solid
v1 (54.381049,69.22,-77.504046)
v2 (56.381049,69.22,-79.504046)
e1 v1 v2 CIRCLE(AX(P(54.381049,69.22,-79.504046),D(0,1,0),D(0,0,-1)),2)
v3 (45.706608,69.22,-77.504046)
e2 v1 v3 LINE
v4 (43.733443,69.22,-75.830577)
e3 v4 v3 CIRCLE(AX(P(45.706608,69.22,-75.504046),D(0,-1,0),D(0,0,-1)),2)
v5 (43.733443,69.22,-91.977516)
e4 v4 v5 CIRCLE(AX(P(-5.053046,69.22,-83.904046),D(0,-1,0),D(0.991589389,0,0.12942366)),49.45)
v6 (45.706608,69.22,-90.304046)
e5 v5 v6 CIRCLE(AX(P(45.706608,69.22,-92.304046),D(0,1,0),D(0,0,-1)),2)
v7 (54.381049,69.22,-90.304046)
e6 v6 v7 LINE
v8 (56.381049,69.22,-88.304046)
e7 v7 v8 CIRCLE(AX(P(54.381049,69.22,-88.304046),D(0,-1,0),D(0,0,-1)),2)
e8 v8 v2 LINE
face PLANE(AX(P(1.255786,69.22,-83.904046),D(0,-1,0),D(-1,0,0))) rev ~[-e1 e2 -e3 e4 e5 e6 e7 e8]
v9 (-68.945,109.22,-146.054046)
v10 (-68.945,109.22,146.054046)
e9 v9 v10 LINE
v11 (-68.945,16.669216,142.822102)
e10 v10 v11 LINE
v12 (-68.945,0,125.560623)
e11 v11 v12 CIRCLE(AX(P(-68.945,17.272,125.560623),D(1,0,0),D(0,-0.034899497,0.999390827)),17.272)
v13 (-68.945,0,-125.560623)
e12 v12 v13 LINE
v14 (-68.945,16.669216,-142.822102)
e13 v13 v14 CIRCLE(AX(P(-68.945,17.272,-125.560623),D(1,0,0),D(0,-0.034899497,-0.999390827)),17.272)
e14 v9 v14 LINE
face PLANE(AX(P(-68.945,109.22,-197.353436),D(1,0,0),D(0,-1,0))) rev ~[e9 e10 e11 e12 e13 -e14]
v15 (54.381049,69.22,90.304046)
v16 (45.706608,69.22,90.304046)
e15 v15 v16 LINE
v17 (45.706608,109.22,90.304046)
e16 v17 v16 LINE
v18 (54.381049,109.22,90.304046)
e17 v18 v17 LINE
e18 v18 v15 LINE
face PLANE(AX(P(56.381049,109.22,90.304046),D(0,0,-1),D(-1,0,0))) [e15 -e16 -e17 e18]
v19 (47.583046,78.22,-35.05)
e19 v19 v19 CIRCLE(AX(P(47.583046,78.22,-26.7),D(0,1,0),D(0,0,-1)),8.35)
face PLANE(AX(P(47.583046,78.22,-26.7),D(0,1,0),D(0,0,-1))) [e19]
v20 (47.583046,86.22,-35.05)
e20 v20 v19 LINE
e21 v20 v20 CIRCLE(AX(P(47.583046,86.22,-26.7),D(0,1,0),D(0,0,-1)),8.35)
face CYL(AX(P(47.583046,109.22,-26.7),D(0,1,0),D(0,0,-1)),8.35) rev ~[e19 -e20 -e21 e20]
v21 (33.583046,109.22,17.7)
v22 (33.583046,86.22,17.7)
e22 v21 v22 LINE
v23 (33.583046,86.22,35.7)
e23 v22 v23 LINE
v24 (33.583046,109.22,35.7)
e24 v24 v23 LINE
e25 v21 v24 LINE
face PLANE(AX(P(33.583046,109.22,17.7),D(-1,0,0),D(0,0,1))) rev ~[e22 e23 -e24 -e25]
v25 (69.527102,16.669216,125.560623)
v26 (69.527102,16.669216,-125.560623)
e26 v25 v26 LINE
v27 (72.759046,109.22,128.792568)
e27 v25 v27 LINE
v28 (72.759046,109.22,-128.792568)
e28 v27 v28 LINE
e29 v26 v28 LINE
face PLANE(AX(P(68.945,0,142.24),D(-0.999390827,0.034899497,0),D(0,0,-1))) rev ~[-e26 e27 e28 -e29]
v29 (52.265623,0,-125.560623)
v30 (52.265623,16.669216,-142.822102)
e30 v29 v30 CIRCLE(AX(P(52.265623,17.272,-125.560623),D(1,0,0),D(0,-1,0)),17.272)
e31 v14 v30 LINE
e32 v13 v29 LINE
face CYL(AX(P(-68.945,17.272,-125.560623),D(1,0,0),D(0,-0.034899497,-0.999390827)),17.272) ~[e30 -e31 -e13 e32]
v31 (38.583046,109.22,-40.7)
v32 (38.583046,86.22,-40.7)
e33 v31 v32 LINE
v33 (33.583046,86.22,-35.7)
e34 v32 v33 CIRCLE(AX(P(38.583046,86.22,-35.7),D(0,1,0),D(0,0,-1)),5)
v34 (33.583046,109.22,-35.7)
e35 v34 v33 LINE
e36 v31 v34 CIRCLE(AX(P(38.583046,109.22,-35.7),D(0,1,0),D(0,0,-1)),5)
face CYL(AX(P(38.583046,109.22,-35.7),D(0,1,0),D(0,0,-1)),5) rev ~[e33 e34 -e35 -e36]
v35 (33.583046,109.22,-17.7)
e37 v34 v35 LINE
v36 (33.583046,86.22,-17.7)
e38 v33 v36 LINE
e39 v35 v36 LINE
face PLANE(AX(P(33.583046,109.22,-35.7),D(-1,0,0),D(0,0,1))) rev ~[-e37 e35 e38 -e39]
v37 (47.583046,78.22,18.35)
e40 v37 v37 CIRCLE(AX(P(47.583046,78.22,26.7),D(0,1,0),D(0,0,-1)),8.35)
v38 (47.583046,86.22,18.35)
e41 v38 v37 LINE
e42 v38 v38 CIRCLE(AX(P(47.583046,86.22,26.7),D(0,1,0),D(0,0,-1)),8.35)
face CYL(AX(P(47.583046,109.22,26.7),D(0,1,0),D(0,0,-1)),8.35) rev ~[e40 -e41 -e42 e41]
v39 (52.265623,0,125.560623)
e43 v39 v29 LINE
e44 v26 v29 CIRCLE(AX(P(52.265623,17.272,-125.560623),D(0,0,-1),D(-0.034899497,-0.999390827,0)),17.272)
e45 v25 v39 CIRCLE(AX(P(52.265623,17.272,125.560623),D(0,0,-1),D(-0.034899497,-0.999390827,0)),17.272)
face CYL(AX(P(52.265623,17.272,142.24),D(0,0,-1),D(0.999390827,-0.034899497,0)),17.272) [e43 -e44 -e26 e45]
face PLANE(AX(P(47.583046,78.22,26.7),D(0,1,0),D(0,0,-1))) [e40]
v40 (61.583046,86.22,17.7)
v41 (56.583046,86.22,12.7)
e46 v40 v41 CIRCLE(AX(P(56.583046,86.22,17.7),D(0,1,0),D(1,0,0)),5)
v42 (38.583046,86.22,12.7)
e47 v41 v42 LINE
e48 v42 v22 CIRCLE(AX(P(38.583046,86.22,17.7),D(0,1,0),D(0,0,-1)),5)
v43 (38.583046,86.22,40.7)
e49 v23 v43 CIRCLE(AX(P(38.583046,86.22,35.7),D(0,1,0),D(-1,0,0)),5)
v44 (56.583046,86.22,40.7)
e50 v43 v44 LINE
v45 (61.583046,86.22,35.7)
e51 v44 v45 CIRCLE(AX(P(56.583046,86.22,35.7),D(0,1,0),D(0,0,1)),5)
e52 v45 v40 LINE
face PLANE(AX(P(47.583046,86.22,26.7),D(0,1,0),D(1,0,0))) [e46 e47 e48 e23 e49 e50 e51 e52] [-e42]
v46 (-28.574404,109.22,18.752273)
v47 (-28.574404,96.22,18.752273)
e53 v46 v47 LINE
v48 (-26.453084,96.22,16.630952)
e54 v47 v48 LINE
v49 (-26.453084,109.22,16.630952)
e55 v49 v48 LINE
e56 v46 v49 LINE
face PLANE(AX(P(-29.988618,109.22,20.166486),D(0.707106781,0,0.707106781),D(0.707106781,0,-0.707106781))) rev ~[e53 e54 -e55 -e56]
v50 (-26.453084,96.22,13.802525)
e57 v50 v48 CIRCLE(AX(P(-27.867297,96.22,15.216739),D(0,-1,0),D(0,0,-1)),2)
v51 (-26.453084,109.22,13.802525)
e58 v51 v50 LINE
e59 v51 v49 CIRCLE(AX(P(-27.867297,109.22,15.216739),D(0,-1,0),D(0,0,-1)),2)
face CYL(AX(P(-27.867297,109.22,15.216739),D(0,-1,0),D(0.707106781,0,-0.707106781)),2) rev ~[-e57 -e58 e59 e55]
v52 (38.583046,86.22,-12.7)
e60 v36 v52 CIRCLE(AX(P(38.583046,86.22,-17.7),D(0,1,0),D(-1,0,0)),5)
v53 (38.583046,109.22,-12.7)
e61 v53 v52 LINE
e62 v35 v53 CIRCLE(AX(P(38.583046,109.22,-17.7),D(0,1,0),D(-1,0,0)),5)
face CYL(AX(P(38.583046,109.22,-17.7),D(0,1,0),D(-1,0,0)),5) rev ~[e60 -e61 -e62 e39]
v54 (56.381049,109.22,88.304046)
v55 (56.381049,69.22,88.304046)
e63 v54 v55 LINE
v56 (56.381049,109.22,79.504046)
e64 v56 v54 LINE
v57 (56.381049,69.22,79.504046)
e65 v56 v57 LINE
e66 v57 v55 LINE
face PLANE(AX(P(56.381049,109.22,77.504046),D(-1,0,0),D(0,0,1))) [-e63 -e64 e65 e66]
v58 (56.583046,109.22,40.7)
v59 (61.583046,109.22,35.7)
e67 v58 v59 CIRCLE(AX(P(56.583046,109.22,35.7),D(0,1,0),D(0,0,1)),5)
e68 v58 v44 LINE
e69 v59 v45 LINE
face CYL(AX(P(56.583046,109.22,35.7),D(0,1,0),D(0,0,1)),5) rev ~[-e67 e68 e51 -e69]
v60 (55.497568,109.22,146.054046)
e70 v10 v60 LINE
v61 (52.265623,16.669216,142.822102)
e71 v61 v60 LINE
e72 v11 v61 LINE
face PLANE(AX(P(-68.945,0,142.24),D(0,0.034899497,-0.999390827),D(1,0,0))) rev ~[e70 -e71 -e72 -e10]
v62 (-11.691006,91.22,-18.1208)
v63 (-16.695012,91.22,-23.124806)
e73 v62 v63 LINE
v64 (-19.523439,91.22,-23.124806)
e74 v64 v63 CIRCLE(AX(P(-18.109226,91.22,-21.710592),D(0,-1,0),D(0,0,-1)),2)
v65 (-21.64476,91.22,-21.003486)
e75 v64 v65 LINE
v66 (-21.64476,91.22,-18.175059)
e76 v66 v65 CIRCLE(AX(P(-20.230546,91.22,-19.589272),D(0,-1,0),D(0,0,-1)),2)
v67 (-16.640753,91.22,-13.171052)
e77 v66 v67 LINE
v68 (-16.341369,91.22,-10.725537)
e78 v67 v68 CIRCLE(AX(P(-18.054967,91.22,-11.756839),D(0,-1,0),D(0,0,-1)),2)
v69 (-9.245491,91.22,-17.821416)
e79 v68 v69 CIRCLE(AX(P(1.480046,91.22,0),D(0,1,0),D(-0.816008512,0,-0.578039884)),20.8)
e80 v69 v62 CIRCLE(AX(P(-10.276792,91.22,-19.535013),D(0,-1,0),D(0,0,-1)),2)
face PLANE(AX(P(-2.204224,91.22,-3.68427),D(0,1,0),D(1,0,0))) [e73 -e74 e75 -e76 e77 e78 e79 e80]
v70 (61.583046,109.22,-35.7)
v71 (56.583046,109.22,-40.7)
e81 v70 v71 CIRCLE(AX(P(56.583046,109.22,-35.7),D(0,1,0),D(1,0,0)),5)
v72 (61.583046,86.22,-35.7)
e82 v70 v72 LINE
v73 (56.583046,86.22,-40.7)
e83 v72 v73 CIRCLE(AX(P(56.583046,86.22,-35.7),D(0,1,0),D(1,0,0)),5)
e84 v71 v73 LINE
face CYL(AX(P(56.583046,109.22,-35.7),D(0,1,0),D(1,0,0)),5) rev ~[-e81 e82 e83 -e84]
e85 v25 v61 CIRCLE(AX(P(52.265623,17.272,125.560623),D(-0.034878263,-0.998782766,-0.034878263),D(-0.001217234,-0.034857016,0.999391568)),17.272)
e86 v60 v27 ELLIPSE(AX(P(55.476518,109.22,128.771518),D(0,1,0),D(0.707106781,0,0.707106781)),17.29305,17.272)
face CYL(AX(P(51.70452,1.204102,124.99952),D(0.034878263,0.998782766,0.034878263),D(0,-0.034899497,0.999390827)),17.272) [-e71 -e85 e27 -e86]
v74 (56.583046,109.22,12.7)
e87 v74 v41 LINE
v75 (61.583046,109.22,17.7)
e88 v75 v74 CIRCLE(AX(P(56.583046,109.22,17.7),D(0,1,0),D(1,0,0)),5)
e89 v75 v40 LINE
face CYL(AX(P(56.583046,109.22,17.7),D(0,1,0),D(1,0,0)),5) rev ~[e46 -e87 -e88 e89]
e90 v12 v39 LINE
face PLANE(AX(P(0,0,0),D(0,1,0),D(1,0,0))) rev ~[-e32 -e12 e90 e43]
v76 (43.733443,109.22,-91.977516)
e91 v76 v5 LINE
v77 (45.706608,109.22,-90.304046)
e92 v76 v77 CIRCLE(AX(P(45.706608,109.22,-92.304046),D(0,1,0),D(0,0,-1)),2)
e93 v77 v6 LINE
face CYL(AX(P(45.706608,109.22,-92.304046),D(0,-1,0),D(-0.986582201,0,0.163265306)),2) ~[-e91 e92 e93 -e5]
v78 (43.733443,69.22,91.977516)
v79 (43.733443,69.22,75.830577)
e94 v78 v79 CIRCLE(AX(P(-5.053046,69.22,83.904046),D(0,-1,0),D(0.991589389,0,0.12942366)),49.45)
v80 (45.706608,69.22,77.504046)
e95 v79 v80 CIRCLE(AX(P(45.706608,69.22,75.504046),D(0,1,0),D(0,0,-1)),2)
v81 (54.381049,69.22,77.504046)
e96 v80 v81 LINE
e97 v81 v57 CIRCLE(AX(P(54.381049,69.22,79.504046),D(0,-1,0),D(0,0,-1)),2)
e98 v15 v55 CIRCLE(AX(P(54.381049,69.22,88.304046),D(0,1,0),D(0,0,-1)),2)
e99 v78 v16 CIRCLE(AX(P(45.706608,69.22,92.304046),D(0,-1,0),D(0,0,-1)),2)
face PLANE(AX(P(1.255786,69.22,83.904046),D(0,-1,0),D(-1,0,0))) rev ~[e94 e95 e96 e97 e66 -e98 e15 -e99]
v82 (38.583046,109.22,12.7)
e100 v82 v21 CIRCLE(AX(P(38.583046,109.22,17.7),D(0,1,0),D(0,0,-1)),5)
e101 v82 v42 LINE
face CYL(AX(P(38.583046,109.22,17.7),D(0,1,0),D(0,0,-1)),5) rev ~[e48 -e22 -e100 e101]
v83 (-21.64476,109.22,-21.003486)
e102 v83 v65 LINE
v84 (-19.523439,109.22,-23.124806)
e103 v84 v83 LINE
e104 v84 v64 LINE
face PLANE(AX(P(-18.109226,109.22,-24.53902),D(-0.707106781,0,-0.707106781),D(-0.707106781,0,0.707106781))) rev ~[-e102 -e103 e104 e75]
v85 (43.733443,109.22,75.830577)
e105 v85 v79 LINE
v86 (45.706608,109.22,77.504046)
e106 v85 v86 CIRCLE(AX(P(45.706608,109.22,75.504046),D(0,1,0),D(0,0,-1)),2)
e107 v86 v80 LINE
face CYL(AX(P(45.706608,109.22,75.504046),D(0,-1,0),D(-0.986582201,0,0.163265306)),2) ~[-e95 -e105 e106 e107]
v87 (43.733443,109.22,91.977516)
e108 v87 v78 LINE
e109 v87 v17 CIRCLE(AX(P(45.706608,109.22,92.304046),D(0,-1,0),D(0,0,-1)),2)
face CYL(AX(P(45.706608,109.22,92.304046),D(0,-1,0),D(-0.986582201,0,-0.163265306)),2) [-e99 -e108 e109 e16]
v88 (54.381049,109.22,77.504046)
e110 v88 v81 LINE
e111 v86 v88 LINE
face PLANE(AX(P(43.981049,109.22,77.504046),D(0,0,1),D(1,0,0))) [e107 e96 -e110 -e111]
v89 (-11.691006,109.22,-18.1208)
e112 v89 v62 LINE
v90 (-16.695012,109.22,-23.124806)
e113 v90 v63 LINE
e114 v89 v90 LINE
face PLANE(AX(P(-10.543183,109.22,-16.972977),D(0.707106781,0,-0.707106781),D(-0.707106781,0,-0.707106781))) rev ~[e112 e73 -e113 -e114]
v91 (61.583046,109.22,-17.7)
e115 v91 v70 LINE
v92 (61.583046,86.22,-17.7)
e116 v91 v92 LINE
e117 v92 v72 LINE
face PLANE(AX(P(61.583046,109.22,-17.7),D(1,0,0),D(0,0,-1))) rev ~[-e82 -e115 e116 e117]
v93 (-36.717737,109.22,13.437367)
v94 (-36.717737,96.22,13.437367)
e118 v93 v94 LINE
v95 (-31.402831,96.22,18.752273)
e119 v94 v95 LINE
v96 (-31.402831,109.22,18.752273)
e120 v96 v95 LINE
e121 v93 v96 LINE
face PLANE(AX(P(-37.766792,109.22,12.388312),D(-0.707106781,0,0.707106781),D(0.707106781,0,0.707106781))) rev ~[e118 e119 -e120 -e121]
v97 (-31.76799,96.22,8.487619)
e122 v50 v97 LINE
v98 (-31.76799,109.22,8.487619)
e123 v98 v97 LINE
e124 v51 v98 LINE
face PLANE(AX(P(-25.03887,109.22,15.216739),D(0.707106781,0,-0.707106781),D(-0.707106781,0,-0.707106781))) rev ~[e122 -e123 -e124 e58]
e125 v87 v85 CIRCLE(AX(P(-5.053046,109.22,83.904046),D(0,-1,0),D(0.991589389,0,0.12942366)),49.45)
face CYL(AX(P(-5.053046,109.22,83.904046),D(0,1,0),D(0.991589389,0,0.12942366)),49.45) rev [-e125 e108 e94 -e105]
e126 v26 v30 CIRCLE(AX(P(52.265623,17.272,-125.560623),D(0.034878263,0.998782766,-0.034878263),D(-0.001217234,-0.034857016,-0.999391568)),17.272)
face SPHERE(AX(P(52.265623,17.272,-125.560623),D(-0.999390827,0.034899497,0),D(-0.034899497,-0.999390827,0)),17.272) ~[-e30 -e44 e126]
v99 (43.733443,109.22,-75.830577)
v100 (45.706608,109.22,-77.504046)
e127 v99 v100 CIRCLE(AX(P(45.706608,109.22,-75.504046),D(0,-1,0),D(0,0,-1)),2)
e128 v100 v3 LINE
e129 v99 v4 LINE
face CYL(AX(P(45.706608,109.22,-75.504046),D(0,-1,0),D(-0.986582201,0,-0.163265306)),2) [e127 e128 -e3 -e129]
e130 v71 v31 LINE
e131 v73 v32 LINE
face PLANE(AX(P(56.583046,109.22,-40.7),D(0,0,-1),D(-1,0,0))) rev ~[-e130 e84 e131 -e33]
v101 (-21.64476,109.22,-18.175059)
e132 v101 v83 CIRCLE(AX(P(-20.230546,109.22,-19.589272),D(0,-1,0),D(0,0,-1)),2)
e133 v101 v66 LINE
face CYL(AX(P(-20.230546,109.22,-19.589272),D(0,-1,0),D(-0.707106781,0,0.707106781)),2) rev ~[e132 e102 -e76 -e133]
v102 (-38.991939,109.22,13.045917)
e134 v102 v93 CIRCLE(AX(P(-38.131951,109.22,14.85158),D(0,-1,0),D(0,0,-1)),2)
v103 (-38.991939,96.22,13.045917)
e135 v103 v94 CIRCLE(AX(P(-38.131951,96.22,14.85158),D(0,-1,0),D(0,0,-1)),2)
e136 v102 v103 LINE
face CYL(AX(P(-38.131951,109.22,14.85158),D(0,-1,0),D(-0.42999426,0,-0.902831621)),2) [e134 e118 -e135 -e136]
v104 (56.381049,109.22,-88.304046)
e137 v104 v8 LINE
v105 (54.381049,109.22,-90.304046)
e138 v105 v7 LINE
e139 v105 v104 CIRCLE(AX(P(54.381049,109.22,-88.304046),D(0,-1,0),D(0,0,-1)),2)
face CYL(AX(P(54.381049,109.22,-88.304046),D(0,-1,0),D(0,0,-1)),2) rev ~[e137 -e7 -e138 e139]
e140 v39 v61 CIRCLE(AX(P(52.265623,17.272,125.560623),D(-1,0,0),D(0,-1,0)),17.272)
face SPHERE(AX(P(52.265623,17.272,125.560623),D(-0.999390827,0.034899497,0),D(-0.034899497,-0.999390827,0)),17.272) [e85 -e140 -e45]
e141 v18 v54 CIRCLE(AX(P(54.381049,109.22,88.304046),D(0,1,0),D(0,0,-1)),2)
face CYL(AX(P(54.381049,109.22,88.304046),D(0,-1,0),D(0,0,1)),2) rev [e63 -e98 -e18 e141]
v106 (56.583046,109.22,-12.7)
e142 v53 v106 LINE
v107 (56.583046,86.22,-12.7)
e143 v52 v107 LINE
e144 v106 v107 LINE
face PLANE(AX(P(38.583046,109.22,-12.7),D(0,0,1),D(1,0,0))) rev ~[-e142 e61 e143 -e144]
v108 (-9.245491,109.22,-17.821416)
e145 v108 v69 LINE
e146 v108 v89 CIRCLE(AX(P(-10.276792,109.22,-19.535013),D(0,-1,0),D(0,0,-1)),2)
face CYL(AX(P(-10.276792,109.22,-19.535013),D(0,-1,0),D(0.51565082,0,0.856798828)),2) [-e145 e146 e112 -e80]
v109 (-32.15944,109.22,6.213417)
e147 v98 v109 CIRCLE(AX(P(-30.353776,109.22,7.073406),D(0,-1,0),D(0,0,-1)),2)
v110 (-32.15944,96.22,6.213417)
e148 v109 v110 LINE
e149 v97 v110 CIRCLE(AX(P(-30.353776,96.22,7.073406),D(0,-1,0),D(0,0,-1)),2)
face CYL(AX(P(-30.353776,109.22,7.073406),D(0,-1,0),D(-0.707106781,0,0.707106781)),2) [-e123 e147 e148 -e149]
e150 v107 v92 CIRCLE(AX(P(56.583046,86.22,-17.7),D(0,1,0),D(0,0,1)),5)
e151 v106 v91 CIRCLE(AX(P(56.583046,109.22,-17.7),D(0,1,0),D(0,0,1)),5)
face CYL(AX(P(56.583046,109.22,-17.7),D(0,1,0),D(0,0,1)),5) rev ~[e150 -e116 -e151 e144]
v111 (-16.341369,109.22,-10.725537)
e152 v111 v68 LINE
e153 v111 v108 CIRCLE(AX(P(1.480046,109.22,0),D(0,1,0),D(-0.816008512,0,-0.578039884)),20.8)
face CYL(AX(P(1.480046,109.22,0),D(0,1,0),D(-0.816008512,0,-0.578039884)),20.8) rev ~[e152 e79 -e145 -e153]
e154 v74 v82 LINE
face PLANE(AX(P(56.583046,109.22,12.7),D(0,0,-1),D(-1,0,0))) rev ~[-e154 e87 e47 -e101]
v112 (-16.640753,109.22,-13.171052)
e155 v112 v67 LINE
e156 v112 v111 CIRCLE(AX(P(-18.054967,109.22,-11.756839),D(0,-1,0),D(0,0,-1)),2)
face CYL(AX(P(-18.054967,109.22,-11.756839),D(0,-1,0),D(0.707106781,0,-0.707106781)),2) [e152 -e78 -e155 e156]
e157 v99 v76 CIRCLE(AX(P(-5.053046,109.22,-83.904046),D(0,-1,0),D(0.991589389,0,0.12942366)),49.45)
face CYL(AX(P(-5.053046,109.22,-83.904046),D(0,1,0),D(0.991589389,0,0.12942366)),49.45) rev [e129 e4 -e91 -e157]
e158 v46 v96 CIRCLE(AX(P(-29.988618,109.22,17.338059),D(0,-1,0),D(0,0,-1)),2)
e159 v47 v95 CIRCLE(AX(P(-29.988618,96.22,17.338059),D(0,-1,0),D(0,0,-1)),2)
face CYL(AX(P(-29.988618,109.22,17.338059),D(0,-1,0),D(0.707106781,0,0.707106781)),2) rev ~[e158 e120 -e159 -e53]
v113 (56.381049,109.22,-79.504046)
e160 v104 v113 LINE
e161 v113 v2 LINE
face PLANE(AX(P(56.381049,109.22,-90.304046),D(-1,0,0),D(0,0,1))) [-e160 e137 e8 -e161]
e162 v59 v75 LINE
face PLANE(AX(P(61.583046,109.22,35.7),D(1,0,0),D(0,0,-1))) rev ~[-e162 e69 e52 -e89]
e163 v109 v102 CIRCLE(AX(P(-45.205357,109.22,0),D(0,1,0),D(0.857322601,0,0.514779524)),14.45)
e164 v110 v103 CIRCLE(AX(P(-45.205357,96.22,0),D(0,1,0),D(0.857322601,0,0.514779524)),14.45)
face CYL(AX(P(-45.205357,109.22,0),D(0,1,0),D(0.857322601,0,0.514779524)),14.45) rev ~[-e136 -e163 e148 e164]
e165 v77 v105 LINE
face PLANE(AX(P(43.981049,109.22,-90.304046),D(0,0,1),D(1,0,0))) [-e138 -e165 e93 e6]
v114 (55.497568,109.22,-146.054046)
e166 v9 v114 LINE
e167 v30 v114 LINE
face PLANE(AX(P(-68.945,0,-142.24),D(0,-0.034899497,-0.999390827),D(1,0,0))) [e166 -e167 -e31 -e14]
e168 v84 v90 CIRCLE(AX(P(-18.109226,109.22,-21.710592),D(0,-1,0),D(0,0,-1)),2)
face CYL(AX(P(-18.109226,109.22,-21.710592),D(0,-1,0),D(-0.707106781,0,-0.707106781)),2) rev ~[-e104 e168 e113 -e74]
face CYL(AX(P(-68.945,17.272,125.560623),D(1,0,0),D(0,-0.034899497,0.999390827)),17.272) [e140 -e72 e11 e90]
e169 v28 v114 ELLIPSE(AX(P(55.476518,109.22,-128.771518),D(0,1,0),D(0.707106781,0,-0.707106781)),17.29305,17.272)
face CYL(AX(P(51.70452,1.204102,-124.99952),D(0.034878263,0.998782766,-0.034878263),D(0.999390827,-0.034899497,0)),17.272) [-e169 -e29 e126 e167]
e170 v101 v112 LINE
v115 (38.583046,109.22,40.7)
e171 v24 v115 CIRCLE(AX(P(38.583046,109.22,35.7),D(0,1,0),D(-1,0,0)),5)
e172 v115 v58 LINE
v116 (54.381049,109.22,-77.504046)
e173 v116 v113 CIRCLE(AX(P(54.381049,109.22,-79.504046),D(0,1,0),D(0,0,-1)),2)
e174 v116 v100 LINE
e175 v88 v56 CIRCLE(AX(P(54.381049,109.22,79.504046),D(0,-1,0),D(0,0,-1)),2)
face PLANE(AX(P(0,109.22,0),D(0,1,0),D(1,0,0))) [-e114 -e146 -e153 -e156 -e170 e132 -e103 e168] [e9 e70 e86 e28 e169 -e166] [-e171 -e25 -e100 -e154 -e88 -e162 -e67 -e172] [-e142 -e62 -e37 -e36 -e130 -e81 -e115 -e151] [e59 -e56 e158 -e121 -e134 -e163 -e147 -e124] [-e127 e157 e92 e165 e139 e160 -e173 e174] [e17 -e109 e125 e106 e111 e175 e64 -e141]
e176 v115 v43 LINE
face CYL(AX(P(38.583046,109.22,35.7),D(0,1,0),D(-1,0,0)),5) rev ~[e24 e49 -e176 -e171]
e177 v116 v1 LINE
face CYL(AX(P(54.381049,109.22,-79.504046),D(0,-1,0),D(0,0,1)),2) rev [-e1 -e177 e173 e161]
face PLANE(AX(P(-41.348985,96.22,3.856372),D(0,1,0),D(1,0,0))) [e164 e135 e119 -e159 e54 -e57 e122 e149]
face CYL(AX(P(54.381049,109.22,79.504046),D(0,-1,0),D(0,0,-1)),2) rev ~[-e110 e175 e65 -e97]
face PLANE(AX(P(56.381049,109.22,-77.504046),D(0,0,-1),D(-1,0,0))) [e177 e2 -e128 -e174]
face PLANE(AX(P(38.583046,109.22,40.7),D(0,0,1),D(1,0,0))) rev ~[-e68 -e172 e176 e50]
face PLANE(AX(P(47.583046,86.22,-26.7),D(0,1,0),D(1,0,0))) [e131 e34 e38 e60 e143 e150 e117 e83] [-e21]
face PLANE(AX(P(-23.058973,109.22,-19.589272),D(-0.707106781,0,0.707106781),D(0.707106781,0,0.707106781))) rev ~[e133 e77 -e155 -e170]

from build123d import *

# Parameters (mm, degrees)
SKETCH3_W               = 137.89
SKETCH3_H               = 284.48
BOSS_EXTRUDE1_DEPTH     = 109.22
BOSS_EXTRUDE1_DRAFT     = -2
FILLET1_R               = 17.272
CUT_EXTRUDE1_START      = 109.22
CUT_EXTRUDE1_DEPTH      = 40
CUT_EXTRUDE2_START      = 109.22
CUT_EXTRUDE2_DEPTH      = 13
CUT_EXTRUDE3_START      = 109.22
CUT_EXTRUDE3_DEPTH      = 18
CUT_EXTRUDE5_START      = 109.22
SKETCH1_6_R             = 8.35
CUT_EXTRUDE5_DEPTH      = 23
CUT_EXTRUDE7_START      = 109.22
SKETCH1_7_R             = 8.35
CUT_EXTRUDE7_DEPTH      = 31
FILLET2_R               = 2
CUT_EXTRUDE8_DEPTH      = 197.353435728
CUT_EXTRUDE8_DEPTH_BACK = 197.353435728


with BuildPart() as part:
    # Sketch3 → Boss-Extrude1 (with draft: the straight prism first)
    with BuildSketch(Plane(origin=(0, 0, 0), x_dir=(1, 0, 0), z_dir=(0, 1, 0))):
        Rectangle(SKETCH3_W, SKETCH3_H)
    extrude(amount=BOSS_EXTRUDE1_DEPTH)
    # Boss-Extrude1: the draft: its side faces are tilted about the plane it starts from
    boss_extrude1_sides = [part.faces().sort_by_distance(p)[0] for p in [
        (0, 54.61, 142.24),
        (68.945, 54.61, 0),
        (0, 54.61, -142.24),
        (-68.945, 54.61, 0),
    ]]
    draft(boss_extrude1_sides, Plane(origin=(0, 0, 0), x_dir=(1, 0, 0), z_dir=(0, 1, 0)), BOSS_EXTRUDE1_DRAFT)

    # Fillet1
    fillet1_edges = [part.edges().sort_by_distance(p)[0] for p in [
        (0, 0, 142.24),
        (0, 0, -142.24),
        (68.945, 0, 0),
        (70.852023222, 54.61, 144.147023222),
        (70.852023222, 54.61, -144.147023222),
    ]]
    fillet(fillet1_edges, radius=FILLET1_R)

    # Sketch1 → Cut-Extrude1 (cut)
    with BuildSketch(Plane(origin=(0, 0, 0), x_dir=(1, 0, 0), z_dir=(0, 1, 0)).offset(CUT_EXTRUDE1_START)):
        with BuildLine():
            Line((43.981048837, 90.304046444), (56.381048837, 90.304046444))
            Line((56.381048837, 90.304046444), (56.381048837, 77.504046444))
            Line((56.381048837, 77.504046444), (43.981048837, 77.504046444))
            ThreePointArc((43.981048837, 77.504046444), (-54.503046444, 83.904046444), (43.981048837, 90.304046444))
        make_face()
        with BuildLine():
            Line((43.981048837, -77.504046444), (56.381048837, -77.504046444))
            Line((56.381048837, -77.504046444), (56.381048837, -90.304046444))
            Line((56.381048837, -90.304046444), (43.981048837, -90.304046444))
            ThreePointArc((43.981048837, -90.304046444), (-54.503046444, -83.904046444), (43.981048837, -77.504046444))
        make_face()
    extrude(amount=-CUT_EXTRUDE1_DEPTH, mode=Mode.SUBTRACT)

    # Sketch1<4> → Cut-Extrude2 (cut)
    with BuildSketch(Plane(origin=(0, 0, 0), x_dir=(1, 0, 0), z_dir=(0, 1, 0)).offset(CUT_EXTRUDE2_START)):
        with BuildLine():
            Line((-25.038870367, -15.216738709), (-32.81704496, -7.438564116))
            ThreePointArc((-32.81704496, -7.438564116), (-55.423049532, 10.217692988), (-37.766792428, -12.388311584))
            Line((-37.766792428, -12.388311584), (-29.988617835, -20.166486177))
            Line((-29.988617835, -20.166486177), (-25.038870367, -15.216738709))
        make_face()
    extrude(amount=-CUT_EXTRUDE2_DEPTH, mode=Mode.SUBTRACT)

    # Sketch1<5> → Cut-Extrude3 (cut)
    with BuildSketch(Plane(origin=(0, 0, 0), x_dir=(1, 0, 0), z_dir=(0, 1, 0)).offset(CUT_EXTRUDE3_START)):
        with BuildLine():
            Line((-23.058973173, 19.589272149), (-15.492930614, 12.02322959))
            ThreePointArc((-15.492930614, 12.02322959), (16.187867493, -14.707821049), (-10.543183146, 16.972977058))
            Line((-10.543183146, 16.972977058), (-18.109225705, 24.539019617))
            Line((-18.109225705, 24.539019617), (-23.058973173, 19.589272149))
        make_face()
    extrude(amount=-CUT_EXTRUDE3_DEPTH, mode=Mode.SUBTRACT)

    # Sketch1<6> → Cut-Extrude5 (cut)
    # profile 1 of 2: a face of its own
    with BuildSketch(Plane(origin=(0, 0, 0), x_dir=(1, 0, 0), z_dir=(0, 1, 0)).offset(CUT_EXTRUDE5_START)):
        with BuildLine():
            Line((38.583046444, 12.7), (56.583046444, 12.7))
            ThreePointArc((56.583046444, 12.7), (60.11858035, 14.164466094), (61.583046444, 17.7))
            Line((61.583046444, 17.7), (61.583046444, 35.7))
            ThreePointArc((61.583046444, 35.7), (60.11858035, 39.235533906), (56.583046444, 40.7))
            Line((56.583046444, 40.7), (38.583046444, 40.7))
            ThreePointArc((38.583046444, 40.7), (35.047512538, 39.235533906), (33.583046444, 35.7))
            Line((33.583046444, 35.7), (33.583046444, 17.7))
            ThreePointArc((33.583046444, 17.7), (35.047512538, 14.164466094), (38.583046444, 12.7))
        make_face()
        with Locations(Location((47.583046444, 26.7, 0), (0, 0, 90))):
            Circle(SKETCH1_6_R, mode=Mode.SUBTRACT)
    # profile 2 of 2: a face of its own
    with BuildSketch(Plane(origin=(0, 0, 0), x_dir=(1, 0, 0), z_dir=(0, 1, 0)).offset(CUT_EXTRUDE5_START)):
        with BuildLine():
            Line((38.583046444, -40.7), (56.583046444, -40.7))
            ThreePointArc((56.583046444, -40.7), (60.11858035, -39.235533906), (61.583046444, -35.7))
            Line((61.583046444, -35.7), (61.583046444, -17.7))
            ThreePointArc((61.583046444, -17.7), (60.11858035, -14.164466094), (56.583046444, -12.7))
            Line((56.583046444, -12.7), (38.583046444, -12.7))
            ThreePointArc((38.583046444, -12.7), (35.047512538, -14.164466094), (33.583046444, -17.7))
            Line((33.583046444, -17.7), (33.583046444, -35.7))
            ThreePointArc((33.583046444, -35.7), (35.047512538, -39.235533906), (38.583046444, -40.7))
        make_face()
        with Locations(Location((47.583046444, -26.7, 0), (0, 0, 90))):
            Circle(SKETCH1_6_R, mode=Mode.SUBTRACT)
    extrude(amount=-CUT_EXTRUDE5_DEPTH, mode=Mode.SUBTRACT)

    # Sketch1<7> → Cut-Extrude7 (cut)
    with BuildSketch(Plane(origin=(0, 0, 0), x_dir=(1, 0, 0), z_dir=(0, 1, 0)).offset(CUT_EXTRUDE7_START)):
        with Locations(Location((47.583046444, 26.7, 0), (0, 0, 90))):
            Circle(SKETCH1_7_R)
        with Locations(Location((47.583046444, -26.7, 0), (0, 0, 90))):
            Circle(SKETCH1_7_R)
    extrude(amount=-CUT_EXTRUDE7_DEPTH, mode=Mode.SUBTRACT)

    # Fillet2
    fillet2_edges = [part.edges().sort_by_distance(p)[0] for p in [
        (43.981048837, 89.22, -77.504046444),
        (43.981048837, 89.22, -90.304046444),
        (56.381048837, 89.22, -90.304046444),
        (56.381048837, 89.22, -77.504046444),
        (43.981048837, 89.22, 90.304046444),
        (43.981048837, 89.22, 77.504046444),
        (56.381048837, 89.22, 77.504046444),
        (56.381048837, 89.22, 90.304046444),
        (-25.038870367, 102.72, 15.216738709),
        (-29.988617835, 102.72, 20.166486177),
        (-37.766792428, 102.72, 12.388311584),
        (-32.81704496, 102.72, 7.438564116),
        (-23.058973173, 100.22, -19.589272149),
        (-18.109225705, 100.22, -24.539019617),
        (-10.543183146, 100.22, -16.972977058),
        (-15.492930614, 100.22, -12.02322959),
    ]]
    fillet(fillet2_edges, radius=FILLET2_R)

    # Sketch4 → Cut-Extrude8 (cut, two sides: drawn at the far end of the back side and taken through both)
    with BuildSketch(Plane.XY.offset(-CUT_EXTRUDE8_DEPTH_BACK)):
        Polygon((-68.945, 109.22), (-68.945, 0), (-84.208745504, 109.22), align=None)
    extrude(amount=CUT_EXTRUDE8_DEPTH + CUT_EXTRUDE8_DEPTH_BACK, mode=Mode.SUBTRACT)


solid = part.part
